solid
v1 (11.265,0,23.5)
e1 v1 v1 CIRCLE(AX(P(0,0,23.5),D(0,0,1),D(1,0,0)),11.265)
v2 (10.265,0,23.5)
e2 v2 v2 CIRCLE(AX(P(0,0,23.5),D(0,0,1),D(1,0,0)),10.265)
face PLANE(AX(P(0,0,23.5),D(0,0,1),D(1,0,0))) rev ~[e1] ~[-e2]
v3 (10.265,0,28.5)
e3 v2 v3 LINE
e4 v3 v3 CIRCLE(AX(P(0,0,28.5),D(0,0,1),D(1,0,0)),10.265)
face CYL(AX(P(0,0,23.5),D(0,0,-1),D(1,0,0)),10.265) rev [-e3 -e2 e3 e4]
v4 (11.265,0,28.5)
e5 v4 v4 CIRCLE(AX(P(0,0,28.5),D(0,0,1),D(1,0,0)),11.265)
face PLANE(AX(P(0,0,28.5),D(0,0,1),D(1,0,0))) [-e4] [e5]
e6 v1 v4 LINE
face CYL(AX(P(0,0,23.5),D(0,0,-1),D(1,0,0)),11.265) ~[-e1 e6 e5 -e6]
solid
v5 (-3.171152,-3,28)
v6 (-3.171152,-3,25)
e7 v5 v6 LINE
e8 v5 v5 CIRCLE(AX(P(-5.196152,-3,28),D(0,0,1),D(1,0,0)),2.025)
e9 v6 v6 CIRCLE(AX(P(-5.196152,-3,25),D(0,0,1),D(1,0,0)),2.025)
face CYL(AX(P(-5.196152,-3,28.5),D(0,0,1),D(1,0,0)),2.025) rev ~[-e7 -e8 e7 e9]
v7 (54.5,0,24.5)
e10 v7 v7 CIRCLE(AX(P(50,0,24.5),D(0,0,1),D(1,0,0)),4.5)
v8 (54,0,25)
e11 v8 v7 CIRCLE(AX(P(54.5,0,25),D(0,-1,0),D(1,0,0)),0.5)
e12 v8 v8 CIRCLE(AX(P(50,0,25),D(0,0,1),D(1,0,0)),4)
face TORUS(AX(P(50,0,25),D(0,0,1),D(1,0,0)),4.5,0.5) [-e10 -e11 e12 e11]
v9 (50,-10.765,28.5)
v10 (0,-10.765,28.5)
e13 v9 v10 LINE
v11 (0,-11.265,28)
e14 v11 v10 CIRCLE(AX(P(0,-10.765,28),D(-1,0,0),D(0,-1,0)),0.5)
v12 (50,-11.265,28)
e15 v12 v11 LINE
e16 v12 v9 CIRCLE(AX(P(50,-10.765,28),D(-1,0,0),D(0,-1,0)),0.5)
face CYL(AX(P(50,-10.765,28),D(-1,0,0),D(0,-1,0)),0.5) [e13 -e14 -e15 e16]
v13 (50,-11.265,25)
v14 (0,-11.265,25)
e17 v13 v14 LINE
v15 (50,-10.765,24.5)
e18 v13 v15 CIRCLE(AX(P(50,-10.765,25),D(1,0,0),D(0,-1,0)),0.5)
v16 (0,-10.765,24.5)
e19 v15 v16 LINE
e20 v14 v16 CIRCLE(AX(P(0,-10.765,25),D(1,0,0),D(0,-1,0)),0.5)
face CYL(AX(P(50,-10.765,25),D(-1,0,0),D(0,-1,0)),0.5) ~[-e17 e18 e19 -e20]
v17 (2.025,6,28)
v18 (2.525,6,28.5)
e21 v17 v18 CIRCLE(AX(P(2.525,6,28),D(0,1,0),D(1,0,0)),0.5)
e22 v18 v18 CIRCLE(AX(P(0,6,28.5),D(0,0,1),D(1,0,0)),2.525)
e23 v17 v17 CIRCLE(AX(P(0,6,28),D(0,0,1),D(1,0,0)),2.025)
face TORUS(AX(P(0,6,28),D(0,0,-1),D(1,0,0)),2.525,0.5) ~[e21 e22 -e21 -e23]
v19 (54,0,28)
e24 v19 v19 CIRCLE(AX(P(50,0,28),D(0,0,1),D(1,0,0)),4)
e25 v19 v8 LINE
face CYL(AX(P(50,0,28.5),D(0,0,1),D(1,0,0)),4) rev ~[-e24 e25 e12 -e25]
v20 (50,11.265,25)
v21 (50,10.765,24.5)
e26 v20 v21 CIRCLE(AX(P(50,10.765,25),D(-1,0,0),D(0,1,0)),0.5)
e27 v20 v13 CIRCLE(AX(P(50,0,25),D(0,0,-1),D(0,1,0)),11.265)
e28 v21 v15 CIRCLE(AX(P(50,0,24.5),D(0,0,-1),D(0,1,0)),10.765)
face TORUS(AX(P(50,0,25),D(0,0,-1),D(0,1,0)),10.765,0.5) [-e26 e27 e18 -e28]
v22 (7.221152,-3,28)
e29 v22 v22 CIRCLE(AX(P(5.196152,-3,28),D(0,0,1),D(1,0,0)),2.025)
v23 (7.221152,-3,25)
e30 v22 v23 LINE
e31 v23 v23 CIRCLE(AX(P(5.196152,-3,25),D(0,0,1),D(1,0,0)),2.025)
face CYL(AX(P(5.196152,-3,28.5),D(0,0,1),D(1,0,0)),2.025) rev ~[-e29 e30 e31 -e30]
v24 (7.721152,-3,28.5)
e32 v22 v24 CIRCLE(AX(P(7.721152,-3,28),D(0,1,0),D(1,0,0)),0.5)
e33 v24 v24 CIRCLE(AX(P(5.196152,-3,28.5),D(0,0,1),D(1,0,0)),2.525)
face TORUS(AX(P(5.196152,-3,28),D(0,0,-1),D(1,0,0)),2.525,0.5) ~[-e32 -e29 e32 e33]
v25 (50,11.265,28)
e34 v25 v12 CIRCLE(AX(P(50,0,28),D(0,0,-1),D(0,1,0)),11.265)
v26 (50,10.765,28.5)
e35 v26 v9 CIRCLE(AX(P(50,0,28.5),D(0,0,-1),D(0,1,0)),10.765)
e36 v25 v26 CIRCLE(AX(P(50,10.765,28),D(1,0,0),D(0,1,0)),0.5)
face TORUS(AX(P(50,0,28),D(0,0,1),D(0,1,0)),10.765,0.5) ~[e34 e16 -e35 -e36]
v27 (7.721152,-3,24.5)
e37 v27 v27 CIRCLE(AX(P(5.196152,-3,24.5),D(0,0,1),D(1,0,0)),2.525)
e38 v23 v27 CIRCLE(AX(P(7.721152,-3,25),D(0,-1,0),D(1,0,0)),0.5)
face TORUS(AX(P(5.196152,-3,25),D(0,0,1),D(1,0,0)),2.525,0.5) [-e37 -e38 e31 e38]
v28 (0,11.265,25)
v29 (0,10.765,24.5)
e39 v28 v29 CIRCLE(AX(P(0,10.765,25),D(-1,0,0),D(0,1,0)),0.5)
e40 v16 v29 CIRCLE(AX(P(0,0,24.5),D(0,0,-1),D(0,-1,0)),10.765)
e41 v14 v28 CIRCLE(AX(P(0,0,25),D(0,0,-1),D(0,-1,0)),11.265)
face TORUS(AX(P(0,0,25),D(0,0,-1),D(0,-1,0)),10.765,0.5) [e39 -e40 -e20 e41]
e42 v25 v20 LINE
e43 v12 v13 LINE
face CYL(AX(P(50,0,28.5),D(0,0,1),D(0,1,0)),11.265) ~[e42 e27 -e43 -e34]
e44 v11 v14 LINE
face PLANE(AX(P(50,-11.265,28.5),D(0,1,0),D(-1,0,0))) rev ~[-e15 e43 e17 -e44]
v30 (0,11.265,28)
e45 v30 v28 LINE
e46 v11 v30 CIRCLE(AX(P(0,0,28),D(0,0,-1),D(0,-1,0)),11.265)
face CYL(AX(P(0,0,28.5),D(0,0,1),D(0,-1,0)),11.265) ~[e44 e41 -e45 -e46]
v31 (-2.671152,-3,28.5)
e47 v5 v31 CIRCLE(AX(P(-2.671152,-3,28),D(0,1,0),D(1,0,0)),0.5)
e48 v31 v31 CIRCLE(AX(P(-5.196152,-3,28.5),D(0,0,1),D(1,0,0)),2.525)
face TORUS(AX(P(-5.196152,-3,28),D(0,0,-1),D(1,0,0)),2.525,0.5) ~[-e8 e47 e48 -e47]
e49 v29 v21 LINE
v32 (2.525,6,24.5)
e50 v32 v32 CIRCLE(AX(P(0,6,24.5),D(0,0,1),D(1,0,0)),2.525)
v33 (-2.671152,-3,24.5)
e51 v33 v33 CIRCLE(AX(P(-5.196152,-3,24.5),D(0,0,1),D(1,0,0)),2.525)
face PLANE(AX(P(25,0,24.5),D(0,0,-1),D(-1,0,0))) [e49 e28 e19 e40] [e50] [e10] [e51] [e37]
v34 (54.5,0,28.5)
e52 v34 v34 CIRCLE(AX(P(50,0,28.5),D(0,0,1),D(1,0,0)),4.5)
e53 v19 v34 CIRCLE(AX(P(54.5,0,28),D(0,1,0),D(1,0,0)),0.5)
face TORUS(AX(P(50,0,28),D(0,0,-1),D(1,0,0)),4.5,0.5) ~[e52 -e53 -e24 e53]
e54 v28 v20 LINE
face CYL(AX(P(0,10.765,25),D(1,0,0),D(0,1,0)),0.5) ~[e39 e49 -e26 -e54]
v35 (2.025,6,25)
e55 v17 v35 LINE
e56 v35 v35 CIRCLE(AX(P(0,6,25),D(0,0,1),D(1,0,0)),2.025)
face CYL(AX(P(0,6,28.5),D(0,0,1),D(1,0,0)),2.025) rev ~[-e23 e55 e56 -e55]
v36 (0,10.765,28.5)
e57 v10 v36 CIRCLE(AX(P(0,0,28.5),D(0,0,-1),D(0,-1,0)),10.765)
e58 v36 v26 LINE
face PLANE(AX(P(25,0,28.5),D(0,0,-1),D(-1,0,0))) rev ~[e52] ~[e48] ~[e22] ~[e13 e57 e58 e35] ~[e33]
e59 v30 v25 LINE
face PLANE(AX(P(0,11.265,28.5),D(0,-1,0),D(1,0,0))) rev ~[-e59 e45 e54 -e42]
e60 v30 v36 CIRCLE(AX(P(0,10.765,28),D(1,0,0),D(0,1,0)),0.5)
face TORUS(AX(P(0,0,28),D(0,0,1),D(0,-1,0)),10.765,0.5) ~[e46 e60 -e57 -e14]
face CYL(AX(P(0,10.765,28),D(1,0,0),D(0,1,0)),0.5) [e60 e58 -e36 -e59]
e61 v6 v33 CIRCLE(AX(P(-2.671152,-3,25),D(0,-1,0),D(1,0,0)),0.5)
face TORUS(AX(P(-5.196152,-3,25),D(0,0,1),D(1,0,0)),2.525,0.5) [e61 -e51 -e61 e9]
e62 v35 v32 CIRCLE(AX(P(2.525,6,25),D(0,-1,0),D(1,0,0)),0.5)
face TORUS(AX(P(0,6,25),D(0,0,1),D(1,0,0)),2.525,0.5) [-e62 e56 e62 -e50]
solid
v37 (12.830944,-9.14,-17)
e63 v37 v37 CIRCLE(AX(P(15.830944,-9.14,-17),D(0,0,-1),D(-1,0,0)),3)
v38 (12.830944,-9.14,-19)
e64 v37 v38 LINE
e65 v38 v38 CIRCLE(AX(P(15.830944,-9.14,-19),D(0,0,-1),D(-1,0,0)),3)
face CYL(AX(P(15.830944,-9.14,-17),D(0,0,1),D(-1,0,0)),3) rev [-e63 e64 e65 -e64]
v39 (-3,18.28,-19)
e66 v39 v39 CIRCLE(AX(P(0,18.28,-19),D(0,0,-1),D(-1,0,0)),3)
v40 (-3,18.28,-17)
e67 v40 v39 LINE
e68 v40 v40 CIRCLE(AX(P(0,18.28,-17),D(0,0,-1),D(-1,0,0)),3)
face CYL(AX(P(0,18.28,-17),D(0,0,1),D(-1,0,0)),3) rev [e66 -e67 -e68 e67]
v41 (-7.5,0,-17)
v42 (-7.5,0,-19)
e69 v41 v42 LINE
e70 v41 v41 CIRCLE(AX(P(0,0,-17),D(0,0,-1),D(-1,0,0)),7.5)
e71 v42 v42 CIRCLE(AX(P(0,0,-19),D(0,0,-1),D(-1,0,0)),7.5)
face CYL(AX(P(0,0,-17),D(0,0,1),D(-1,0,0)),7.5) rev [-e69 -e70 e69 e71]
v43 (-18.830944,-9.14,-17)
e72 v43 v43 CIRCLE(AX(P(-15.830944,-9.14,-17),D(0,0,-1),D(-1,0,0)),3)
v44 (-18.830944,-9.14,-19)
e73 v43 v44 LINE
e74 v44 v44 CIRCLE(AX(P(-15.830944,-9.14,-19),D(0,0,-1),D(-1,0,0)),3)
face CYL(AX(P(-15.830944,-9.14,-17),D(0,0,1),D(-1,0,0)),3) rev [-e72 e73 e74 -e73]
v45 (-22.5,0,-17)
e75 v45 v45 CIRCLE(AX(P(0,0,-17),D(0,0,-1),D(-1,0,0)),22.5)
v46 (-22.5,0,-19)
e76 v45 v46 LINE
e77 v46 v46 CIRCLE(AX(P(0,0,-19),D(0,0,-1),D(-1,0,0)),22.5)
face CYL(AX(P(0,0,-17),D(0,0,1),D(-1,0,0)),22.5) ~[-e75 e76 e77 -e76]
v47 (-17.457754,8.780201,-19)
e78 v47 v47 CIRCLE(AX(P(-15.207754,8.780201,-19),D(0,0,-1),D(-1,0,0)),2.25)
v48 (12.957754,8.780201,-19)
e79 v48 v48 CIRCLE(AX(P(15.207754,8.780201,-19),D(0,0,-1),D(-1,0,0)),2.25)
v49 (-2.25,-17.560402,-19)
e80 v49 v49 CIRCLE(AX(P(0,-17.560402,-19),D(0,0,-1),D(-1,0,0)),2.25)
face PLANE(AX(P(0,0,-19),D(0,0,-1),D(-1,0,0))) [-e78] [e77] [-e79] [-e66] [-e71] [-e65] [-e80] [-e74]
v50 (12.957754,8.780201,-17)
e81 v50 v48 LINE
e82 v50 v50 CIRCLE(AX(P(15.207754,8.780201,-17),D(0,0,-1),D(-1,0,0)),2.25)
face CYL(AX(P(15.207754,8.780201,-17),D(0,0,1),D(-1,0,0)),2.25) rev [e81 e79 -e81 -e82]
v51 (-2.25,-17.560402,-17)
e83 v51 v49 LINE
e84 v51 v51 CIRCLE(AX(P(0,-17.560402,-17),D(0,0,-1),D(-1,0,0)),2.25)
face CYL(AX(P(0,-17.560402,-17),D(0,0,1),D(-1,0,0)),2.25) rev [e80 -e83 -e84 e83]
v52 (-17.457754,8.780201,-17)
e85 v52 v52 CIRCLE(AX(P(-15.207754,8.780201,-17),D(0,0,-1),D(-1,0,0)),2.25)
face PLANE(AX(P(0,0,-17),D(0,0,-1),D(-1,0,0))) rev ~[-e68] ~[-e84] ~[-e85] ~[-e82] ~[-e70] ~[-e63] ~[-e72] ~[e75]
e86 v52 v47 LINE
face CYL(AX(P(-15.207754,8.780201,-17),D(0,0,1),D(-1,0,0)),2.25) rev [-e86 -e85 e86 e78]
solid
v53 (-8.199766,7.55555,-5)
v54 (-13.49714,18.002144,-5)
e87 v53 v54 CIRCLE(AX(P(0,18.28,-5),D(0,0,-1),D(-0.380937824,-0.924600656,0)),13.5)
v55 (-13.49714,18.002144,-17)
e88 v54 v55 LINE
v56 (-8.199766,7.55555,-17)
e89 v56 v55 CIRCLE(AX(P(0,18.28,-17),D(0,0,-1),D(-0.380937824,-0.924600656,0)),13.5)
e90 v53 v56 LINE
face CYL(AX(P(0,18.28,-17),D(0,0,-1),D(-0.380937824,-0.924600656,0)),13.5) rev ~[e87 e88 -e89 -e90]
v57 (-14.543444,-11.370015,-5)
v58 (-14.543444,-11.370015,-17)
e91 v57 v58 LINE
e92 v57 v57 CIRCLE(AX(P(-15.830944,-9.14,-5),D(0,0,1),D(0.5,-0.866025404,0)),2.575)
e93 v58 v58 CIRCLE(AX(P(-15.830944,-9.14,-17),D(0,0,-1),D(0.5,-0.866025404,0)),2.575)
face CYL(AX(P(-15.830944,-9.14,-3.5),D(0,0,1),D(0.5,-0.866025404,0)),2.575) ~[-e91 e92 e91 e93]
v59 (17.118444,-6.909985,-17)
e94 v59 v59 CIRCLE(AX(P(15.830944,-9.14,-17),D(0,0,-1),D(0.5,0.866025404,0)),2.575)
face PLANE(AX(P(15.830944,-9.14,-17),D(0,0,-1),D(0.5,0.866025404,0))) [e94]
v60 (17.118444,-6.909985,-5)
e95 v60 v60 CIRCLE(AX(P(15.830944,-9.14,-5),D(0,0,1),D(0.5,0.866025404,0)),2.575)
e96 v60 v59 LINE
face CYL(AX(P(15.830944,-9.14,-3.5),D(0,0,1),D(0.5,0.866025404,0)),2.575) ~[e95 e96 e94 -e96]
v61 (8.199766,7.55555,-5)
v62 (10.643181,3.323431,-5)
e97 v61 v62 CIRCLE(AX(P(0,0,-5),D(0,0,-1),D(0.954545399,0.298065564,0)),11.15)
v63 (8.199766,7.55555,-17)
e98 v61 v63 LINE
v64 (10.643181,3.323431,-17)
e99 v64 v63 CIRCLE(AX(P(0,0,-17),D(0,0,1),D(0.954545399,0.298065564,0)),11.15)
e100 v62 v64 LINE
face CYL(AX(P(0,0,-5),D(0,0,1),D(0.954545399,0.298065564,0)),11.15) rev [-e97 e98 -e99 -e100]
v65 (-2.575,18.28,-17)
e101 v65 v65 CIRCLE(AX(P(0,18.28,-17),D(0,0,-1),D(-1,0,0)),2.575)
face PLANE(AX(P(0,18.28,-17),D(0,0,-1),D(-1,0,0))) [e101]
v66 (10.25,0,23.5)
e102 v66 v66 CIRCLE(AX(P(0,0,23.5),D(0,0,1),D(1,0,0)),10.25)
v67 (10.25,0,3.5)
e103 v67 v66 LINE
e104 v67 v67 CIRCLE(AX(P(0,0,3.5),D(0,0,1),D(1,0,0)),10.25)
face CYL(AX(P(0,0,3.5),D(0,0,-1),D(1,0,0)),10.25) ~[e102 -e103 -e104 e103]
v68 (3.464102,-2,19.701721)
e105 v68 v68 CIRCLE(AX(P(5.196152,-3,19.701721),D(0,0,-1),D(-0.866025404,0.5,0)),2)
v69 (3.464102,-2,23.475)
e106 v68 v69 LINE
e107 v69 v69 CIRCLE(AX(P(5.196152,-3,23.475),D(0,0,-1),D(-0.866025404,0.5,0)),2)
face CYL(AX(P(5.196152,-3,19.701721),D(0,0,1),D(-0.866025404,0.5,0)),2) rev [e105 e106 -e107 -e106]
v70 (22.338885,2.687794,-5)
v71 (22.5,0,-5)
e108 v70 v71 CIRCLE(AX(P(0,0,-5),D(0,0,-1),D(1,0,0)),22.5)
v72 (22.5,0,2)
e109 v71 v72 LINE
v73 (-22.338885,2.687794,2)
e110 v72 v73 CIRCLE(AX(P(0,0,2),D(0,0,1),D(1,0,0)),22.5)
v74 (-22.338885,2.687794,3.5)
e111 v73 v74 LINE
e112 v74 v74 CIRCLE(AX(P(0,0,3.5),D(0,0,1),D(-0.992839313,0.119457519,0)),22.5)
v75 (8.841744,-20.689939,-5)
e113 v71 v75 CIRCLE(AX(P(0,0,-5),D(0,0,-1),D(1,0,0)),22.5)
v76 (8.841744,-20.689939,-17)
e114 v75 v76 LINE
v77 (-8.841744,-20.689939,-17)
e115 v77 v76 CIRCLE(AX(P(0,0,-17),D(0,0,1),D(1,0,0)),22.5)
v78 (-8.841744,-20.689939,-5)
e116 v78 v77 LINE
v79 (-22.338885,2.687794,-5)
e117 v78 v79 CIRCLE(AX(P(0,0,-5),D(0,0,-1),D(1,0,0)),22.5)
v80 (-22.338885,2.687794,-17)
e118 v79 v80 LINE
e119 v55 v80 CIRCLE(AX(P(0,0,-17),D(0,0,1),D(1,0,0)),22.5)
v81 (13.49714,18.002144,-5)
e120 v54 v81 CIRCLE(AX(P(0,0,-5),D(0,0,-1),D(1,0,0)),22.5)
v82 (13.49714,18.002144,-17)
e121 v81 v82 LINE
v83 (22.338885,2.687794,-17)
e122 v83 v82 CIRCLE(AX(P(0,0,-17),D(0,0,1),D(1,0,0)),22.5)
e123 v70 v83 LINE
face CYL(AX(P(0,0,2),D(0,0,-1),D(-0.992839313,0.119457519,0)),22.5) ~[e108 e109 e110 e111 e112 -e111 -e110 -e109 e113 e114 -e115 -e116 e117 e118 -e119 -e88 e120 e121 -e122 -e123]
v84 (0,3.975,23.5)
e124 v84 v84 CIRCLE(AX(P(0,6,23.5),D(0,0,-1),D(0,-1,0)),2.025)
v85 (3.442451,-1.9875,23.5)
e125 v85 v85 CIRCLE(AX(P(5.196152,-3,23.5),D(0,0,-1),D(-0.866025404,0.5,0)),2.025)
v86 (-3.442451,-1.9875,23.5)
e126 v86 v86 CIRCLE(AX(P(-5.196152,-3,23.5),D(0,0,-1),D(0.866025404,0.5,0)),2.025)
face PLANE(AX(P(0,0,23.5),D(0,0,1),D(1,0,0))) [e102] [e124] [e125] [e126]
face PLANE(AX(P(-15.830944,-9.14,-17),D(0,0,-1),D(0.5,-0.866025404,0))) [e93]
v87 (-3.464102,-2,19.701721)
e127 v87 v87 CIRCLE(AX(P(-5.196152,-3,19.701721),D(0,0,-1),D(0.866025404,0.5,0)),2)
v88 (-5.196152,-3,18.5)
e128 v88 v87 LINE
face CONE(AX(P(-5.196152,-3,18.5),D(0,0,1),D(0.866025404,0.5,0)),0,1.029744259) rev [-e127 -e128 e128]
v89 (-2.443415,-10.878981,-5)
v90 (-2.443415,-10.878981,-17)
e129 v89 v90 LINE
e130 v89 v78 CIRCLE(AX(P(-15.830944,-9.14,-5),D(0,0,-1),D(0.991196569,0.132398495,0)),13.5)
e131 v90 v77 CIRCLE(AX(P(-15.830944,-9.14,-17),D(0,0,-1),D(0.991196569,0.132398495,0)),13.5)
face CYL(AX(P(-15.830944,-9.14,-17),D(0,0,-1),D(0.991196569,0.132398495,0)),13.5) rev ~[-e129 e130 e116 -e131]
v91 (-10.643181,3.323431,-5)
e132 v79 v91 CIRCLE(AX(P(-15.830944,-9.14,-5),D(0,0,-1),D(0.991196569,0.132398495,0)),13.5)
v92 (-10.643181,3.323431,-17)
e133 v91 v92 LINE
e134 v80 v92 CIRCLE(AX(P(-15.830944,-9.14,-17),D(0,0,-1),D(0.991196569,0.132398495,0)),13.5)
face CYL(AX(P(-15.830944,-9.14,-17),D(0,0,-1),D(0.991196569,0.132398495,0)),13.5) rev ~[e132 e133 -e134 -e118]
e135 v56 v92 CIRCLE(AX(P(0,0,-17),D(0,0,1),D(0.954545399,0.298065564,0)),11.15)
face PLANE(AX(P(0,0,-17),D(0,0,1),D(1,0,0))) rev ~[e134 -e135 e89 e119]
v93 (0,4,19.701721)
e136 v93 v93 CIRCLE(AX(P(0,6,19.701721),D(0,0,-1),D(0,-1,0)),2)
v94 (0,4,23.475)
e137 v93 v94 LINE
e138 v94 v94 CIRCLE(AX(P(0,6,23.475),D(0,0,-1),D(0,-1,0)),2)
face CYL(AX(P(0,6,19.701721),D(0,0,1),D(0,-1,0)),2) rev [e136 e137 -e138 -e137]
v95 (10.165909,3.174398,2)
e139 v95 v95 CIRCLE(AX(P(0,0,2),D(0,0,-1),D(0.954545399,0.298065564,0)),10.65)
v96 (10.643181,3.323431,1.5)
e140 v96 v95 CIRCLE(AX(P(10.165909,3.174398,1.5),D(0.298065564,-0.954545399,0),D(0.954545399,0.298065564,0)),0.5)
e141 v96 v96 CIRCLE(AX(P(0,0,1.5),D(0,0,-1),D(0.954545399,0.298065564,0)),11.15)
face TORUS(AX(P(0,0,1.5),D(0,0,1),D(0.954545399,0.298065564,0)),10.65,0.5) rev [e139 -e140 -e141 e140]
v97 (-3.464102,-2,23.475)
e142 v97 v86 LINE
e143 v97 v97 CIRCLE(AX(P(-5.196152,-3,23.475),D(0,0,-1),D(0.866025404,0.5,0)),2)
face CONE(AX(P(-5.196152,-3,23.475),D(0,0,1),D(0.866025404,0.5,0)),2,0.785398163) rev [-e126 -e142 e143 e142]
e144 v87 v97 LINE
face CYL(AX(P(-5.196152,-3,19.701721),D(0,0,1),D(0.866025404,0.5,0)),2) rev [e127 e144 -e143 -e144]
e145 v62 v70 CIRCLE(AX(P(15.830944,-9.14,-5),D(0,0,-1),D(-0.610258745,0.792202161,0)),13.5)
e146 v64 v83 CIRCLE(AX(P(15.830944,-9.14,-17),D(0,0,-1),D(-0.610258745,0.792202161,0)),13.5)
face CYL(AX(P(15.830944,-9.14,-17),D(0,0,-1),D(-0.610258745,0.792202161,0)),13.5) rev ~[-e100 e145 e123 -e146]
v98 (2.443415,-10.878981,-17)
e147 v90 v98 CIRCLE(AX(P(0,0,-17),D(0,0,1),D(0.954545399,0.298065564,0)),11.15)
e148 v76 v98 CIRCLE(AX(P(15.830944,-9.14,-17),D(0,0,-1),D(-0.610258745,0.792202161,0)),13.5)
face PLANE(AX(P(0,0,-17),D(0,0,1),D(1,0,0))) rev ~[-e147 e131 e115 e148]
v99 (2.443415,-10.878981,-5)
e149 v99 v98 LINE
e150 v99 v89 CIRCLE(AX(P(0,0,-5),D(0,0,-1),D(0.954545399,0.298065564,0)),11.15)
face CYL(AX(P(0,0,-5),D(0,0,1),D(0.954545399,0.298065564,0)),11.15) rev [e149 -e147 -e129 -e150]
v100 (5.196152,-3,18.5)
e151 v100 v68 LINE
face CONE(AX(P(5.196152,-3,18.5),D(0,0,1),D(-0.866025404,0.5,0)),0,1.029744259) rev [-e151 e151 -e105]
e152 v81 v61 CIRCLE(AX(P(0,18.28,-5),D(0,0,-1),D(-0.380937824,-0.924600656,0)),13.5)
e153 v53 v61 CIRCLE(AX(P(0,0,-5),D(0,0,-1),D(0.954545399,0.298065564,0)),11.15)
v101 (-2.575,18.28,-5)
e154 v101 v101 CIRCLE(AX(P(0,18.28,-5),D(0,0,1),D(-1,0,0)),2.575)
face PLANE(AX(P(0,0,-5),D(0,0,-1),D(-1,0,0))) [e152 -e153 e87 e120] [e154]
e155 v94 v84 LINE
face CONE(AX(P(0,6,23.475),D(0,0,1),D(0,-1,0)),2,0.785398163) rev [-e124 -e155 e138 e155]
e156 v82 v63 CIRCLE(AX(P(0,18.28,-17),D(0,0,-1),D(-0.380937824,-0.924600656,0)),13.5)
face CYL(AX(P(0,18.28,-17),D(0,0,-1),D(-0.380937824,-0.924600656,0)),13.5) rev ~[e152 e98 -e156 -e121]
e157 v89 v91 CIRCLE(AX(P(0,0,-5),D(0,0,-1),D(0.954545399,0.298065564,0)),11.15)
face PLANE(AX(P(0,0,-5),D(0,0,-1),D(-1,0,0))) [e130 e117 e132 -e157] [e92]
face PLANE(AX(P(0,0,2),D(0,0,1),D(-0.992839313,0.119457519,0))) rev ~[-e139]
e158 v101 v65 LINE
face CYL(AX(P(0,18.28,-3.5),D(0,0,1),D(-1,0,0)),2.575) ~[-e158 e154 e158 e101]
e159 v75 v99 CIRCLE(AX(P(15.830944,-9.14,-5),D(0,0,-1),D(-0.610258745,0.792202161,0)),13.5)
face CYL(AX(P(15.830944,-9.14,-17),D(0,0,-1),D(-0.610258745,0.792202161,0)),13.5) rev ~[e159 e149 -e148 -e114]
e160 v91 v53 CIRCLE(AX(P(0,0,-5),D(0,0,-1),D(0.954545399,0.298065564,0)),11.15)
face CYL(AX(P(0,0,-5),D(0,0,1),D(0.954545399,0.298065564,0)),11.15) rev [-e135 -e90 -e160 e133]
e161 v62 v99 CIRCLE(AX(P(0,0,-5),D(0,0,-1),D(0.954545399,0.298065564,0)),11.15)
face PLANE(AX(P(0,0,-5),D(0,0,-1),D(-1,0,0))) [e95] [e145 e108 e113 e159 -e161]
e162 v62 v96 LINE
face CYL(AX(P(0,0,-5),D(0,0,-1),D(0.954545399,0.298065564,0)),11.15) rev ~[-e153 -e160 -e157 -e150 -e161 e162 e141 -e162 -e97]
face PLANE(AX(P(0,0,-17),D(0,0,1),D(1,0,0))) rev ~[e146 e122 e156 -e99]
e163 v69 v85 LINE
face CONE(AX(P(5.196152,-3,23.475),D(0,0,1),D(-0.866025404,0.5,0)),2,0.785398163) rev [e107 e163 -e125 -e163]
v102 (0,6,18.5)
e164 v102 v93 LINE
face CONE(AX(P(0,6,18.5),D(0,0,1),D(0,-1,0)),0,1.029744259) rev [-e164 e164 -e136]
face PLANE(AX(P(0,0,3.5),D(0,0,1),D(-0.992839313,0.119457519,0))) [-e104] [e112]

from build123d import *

# Parameters (mm, degrees)
BOSS_EXTRUDE1_DEPTH           = 2
BOSS_EXTRUDE1_DEPTH_BACK      = 17
SKETCH2_R                     = 22.5
CUT_EXTRUDE1_DEPTH            = 12
BOSS_EXTRUDE2_START           = -1.5
SKETCH4_R                     = 2.575
BOSS_EXTRUDE2_DEPTH           = 13.5
CIRPATTERN1_COUNT             = 3
SKETCH5_R                     = 11.15
BEARINGHOLE_DEPTH             = 7
BEARINGHOLE_DIRECTION_2_REACH = 36.007
SKETCH8_R                     = 22.5
BOSS_EXTRUDE4_DEPTH           = 1.5
SKETCH6_R                     = 10.25
BOSS_EXTRUDE3_DEPTH           = 20
FILLET1_R                     = 0.5
CIRPATTERN2_COUNT             = 3
SKETCH9_R                     = 22.5
SKETCH9_R_2                   = 7.5
SKETCH9_R_3                   = 3
SKETCH9_R_4                   = 2.25
BOSS_EXTRUDE5_DEPTH           = 2
SKETCH13_R                    = 11.265
SKETCH13_R_2                  = 10.265
BOSS_EXTRUDE6_DEPTH           = 5
SKETCH14_R                    = 2.025
SKETCH14_R_2                  = 4
BOSS_EXTRUDE7_DEPTH           = 4
FILLET2_R                     = 0.5


with BuildPart() as part:
    # Sketch2 → Boss-Extrude1 (new, two sides: drawn at the far end of the back side and taken through both)
    with BuildSketch(Plane.XY.offset(-BOSS_EXTRUDE1_DEPTH_BACK)):
        Circle(SKETCH2_R)
    extrude(amount=BOSS_EXTRUDE1_DEPTH + BOSS_EXTRUDE1_DEPTH_BACK)

    # Sketch3 → Cut-Extrude1 (cut)
    with BuildSketch(Plane(origin=(0, 0, -17), x_dir=(-1, 0, 0), z_dir=(0, 0, -1))):
        with BuildLine():
            ThreePointArc((5.14266063, 5.797891138), (0, 31.78), (-5.14266063, 5.797891138))
            ThreePointArc((-5.14266063, 5.797891138), (-6.711696879, 3.875), (-7.592451329, 1.55472918))
            ThreePointArc((-7.592451329, 1.55472918), (-27.522287332, -15.89), (-2.449790699, -7.352620317))
            ThreePointArc((-2.449790699, -7.352620317), (0, -7.75), (2.449790699, -7.352620317))
            ThreePointArc((2.449790699, -7.352620317), (27.522287332, -15.89), (7.592451329, 1.55472918))
            ThreePointArc((7.592451329, 1.55472918), (6.711696879, 3.875), (5.14266063, 5.797891138))
        make_face()
    extrude(amount=-CUT_EXTRUDE1_DEPTH, mode=Mode.SUBTRACT)

    # Sketch4 → Boss-Extrude2 (add)
    with BuildSketch(Plane(origin=(0, 0, -5), x_dir=(-1, 0, 0), z_dir=(0, 0, -1)).offset(BOSS_EXTRUDE2_START)):
        with Locations((0, 18.28)):
            Circle(SKETCH4_R)
    boss_extrude2 = extrude(amount=BOSS_EXTRUDE2_DEPTH)

    # CirPattern1: Boss-Extrude2 ×3 about axis
    cirpattern1_axis = Axis((0, 0, 0), (0, 0, 1))
    for i in range(1, CIRPATTERN1_COUNT):
        add(boss_extrude2.rotate(cirpattern1_axis, i * 360 / CIRPATTERN1_COUNT))

    # Sketch5 → bearingHole (cut)
    with BuildSketch(Plane(origin=(0, 0, -5), x_dir=(-1, 0, 0), z_dir=(0, 0, -1))):
        with Locations(Location((0, 0, 0), (0, 0, 162.658546609))):
            Circle(SKETCH5_R)
    extrude(amount=-BEARINGHOLE_DEPTH, mode=Mode.SUBTRACT)

    # bearingHole direction 2: up to this face of the body (flat: up to its plane)
    bearinghole_direction_2_end = Plane(part.part.faces().sort_by_distance((0, -16.708840738, -17))[0])
    # Sketch5 → bearingHole direction 2 (cut, up to the picked face)
    with BuildSketch(Plane(origin=(0, 0, -5), x_dir=(-1, 0, 0), z_dir=(0, 0, -1)), mode=Mode.PRIVATE) as bearinghole_direction_2_sk1:
        with Locations(Location((0, 0, 0), (0, 0, 162.658546609))):
            Circle(SKETCH5_R)
    bearinghole_direction_2_tool1 = split(extrude(bearinghole_direction_2_sk1.sketch, amount=BEARINGHOLE_DIRECTION_2_REACH, mode=Mode.PRIVATE), bisect_by=bearinghole_direction_2_end, keep=Keep.BOTH, mode=Mode.PRIVATE)
    add(bearinghole_direction_2_tool1.solids().sort_by(Axis((0, 0, -5), (0, 0, -1)))[0], mode=Mode.SUBTRACT)

    # Sketch8 → Boss-Extrude4 (add)
    with BuildSketch(Plane.XY.offset(2)):
        with Locations(Location((0, 0, 0), (0, 0, 173.13920452))):
            Circle(SKETCH8_R)
    extrude(amount=BOSS_EXTRUDE4_DEPTH)

    # Sketch6 → Boss-Extrude3 (add)
    with BuildSketch(Plane.XY.offset(3.5)):
        Circle(SKETCH6_R)
    extrude(amount=BOSS_EXTRUDE3_DEPTH)

    # Fillet1
    fillet1_edges = [part.edges().sort_by_distance(p)[0] for p in [
        (-10.643181204, -3.323431037, 2),
    ]]
    fillet(fillet1_edges, radius=FILLET1_R)

    # Sketch11 → Ø4.0mm Dowel Hole1 (revolve, cut)
    with BuildSketch(Plane(origin=(0, 6, 23.5), x_dir=(0, -1, 0), z_dir=(1, 0, 0))):
        Polygon((0, 0), (0, 5), (2, 3.798278762), (2, 0.025), (2.025, 0), align=None)
    f_4_0mm_dowel_hole1 = revolve(axis=Axis((0, 6, 29.85), (0, 0, -1)), mode=Mode.SUBTRACT)

    # CirPattern2: Ø4.0mm Dowel Hole1 ×3 about axis
    cirpattern2_axis = Axis((0, 0, 0), (0, 0, 1))
    for i in range(1, CIRPATTERN2_COUNT):
        add(f_4_0mm_dowel_hole1.rotate(cirpattern2_axis, i * 360 / CIRPATTERN2_COUNT), mode=Mode.SUBTRACT)


with BuildPart() as body_2:
    # Sketch9 → Boss-Extrude5 (new body)
    with BuildSketch(Plane(origin=(0, 0, -17), x_dir=(-1, 0, 0), z_dir=(0, 0, -1))):
        Circle(SKETCH9_R)
        Circle(SKETCH9_R_2, mode=Mode.SUBTRACT)
        with Locations((0, 18.28)):
            Circle(SKETCH9_R_3, mode=Mode.SUBTRACT)
        with Locations((15.830944381, -9.14)):
            Circle(SKETCH9_R_3, mode=Mode.SUBTRACT)
        with Locations((-15.830944381, -9.14)):
            Circle(SKETCH9_R_3, mode=Mode.SUBTRACT)
        with Locations((15.207753976, 8.780200852)):
            Circle(SKETCH9_R_4, mode=Mode.SUBTRACT)
        with Locations((0, -17.560401703)):
            Circle(SKETCH9_R_4, mode=Mode.SUBTRACT)
        with Locations((-15.207753976, 8.780200852)):
            Circle(SKETCH9_R_4, mode=Mode.SUBTRACT)
    extrude(amount=BOSS_EXTRUDE5_DEPTH)


with BuildPart() as body_3:
    # Sketch13 → Boss-Extrude6 (new body)
    with BuildSketch(Plane.XY.offset(23.5)):
        Circle(SKETCH13_R)
        Circle(SKETCH13_R_2, mode=Mode.SUBTRACT)
    extrude(amount=BOSS_EXTRUDE6_DEPTH)


with BuildPart() as body_4:
    # Sketch14 → Boss-Extrude7 (new body)
    with BuildSketch(Plane.XY.offset(28.5)):
        with BuildLine():
            Line((0, 11.265), (50, 11.265))
            ThreePointArc((50, 11.265), (61.265, 0), (50, -11.265))
            Line((50, -11.265), (0, -11.265))
            ThreePointArc((0, -11.265), (-11.265, 0), (0, 11.265))
        make_face()
        with Locations((0, 6)):
            Circle(SKETCH14_R, mode=Mode.SUBTRACT)
        with Locations((5.196152423, -3)):
            Circle(SKETCH14_R, mode=Mode.SUBTRACT)
        with Locations((-5.196152423, -3)):
            Circle(SKETCH14_R, mode=Mode.SUBTRACT)
        with Locations((50, 0)):
            Circle(SKETCH14_R_2, mode=Mode.SUBTRACT)
    extrude(amount=-BOSS_EXTRUDE7_DEPTH)

    # Fillet2
    fillet2_edges = [body_4.edges().sort_by_distance(p)[0] for p in [
        (-2.025, 6, 24.5),
        (-2.025, 6, 28.5),
        (61.265, 0, 24.5),
        (46, 0, 24.5),
        (46, 0, 28.5),
        (25, 11.265, 24.5),
        (3.171152423, -3, 24.5),
        (3.171152423, -3, 28.5),
        (-7.221152423, -3, 24.5),
        (-7.221152423, -3, 28.5),
        (-11.265, 0, 24.5),
        (25, 11.265, 28.5),
        (61.265, 0, 28.5),
        (25, -11.265, 28.5),
        (-11.265, 0, 28.5),
        (25, -11.265, 24.5),
    ]]
    fillet(fillet2_edges, radius=FILLET2_R)


solid = Compound([part.part, body_2.part, body_3.part, body_4.part])
